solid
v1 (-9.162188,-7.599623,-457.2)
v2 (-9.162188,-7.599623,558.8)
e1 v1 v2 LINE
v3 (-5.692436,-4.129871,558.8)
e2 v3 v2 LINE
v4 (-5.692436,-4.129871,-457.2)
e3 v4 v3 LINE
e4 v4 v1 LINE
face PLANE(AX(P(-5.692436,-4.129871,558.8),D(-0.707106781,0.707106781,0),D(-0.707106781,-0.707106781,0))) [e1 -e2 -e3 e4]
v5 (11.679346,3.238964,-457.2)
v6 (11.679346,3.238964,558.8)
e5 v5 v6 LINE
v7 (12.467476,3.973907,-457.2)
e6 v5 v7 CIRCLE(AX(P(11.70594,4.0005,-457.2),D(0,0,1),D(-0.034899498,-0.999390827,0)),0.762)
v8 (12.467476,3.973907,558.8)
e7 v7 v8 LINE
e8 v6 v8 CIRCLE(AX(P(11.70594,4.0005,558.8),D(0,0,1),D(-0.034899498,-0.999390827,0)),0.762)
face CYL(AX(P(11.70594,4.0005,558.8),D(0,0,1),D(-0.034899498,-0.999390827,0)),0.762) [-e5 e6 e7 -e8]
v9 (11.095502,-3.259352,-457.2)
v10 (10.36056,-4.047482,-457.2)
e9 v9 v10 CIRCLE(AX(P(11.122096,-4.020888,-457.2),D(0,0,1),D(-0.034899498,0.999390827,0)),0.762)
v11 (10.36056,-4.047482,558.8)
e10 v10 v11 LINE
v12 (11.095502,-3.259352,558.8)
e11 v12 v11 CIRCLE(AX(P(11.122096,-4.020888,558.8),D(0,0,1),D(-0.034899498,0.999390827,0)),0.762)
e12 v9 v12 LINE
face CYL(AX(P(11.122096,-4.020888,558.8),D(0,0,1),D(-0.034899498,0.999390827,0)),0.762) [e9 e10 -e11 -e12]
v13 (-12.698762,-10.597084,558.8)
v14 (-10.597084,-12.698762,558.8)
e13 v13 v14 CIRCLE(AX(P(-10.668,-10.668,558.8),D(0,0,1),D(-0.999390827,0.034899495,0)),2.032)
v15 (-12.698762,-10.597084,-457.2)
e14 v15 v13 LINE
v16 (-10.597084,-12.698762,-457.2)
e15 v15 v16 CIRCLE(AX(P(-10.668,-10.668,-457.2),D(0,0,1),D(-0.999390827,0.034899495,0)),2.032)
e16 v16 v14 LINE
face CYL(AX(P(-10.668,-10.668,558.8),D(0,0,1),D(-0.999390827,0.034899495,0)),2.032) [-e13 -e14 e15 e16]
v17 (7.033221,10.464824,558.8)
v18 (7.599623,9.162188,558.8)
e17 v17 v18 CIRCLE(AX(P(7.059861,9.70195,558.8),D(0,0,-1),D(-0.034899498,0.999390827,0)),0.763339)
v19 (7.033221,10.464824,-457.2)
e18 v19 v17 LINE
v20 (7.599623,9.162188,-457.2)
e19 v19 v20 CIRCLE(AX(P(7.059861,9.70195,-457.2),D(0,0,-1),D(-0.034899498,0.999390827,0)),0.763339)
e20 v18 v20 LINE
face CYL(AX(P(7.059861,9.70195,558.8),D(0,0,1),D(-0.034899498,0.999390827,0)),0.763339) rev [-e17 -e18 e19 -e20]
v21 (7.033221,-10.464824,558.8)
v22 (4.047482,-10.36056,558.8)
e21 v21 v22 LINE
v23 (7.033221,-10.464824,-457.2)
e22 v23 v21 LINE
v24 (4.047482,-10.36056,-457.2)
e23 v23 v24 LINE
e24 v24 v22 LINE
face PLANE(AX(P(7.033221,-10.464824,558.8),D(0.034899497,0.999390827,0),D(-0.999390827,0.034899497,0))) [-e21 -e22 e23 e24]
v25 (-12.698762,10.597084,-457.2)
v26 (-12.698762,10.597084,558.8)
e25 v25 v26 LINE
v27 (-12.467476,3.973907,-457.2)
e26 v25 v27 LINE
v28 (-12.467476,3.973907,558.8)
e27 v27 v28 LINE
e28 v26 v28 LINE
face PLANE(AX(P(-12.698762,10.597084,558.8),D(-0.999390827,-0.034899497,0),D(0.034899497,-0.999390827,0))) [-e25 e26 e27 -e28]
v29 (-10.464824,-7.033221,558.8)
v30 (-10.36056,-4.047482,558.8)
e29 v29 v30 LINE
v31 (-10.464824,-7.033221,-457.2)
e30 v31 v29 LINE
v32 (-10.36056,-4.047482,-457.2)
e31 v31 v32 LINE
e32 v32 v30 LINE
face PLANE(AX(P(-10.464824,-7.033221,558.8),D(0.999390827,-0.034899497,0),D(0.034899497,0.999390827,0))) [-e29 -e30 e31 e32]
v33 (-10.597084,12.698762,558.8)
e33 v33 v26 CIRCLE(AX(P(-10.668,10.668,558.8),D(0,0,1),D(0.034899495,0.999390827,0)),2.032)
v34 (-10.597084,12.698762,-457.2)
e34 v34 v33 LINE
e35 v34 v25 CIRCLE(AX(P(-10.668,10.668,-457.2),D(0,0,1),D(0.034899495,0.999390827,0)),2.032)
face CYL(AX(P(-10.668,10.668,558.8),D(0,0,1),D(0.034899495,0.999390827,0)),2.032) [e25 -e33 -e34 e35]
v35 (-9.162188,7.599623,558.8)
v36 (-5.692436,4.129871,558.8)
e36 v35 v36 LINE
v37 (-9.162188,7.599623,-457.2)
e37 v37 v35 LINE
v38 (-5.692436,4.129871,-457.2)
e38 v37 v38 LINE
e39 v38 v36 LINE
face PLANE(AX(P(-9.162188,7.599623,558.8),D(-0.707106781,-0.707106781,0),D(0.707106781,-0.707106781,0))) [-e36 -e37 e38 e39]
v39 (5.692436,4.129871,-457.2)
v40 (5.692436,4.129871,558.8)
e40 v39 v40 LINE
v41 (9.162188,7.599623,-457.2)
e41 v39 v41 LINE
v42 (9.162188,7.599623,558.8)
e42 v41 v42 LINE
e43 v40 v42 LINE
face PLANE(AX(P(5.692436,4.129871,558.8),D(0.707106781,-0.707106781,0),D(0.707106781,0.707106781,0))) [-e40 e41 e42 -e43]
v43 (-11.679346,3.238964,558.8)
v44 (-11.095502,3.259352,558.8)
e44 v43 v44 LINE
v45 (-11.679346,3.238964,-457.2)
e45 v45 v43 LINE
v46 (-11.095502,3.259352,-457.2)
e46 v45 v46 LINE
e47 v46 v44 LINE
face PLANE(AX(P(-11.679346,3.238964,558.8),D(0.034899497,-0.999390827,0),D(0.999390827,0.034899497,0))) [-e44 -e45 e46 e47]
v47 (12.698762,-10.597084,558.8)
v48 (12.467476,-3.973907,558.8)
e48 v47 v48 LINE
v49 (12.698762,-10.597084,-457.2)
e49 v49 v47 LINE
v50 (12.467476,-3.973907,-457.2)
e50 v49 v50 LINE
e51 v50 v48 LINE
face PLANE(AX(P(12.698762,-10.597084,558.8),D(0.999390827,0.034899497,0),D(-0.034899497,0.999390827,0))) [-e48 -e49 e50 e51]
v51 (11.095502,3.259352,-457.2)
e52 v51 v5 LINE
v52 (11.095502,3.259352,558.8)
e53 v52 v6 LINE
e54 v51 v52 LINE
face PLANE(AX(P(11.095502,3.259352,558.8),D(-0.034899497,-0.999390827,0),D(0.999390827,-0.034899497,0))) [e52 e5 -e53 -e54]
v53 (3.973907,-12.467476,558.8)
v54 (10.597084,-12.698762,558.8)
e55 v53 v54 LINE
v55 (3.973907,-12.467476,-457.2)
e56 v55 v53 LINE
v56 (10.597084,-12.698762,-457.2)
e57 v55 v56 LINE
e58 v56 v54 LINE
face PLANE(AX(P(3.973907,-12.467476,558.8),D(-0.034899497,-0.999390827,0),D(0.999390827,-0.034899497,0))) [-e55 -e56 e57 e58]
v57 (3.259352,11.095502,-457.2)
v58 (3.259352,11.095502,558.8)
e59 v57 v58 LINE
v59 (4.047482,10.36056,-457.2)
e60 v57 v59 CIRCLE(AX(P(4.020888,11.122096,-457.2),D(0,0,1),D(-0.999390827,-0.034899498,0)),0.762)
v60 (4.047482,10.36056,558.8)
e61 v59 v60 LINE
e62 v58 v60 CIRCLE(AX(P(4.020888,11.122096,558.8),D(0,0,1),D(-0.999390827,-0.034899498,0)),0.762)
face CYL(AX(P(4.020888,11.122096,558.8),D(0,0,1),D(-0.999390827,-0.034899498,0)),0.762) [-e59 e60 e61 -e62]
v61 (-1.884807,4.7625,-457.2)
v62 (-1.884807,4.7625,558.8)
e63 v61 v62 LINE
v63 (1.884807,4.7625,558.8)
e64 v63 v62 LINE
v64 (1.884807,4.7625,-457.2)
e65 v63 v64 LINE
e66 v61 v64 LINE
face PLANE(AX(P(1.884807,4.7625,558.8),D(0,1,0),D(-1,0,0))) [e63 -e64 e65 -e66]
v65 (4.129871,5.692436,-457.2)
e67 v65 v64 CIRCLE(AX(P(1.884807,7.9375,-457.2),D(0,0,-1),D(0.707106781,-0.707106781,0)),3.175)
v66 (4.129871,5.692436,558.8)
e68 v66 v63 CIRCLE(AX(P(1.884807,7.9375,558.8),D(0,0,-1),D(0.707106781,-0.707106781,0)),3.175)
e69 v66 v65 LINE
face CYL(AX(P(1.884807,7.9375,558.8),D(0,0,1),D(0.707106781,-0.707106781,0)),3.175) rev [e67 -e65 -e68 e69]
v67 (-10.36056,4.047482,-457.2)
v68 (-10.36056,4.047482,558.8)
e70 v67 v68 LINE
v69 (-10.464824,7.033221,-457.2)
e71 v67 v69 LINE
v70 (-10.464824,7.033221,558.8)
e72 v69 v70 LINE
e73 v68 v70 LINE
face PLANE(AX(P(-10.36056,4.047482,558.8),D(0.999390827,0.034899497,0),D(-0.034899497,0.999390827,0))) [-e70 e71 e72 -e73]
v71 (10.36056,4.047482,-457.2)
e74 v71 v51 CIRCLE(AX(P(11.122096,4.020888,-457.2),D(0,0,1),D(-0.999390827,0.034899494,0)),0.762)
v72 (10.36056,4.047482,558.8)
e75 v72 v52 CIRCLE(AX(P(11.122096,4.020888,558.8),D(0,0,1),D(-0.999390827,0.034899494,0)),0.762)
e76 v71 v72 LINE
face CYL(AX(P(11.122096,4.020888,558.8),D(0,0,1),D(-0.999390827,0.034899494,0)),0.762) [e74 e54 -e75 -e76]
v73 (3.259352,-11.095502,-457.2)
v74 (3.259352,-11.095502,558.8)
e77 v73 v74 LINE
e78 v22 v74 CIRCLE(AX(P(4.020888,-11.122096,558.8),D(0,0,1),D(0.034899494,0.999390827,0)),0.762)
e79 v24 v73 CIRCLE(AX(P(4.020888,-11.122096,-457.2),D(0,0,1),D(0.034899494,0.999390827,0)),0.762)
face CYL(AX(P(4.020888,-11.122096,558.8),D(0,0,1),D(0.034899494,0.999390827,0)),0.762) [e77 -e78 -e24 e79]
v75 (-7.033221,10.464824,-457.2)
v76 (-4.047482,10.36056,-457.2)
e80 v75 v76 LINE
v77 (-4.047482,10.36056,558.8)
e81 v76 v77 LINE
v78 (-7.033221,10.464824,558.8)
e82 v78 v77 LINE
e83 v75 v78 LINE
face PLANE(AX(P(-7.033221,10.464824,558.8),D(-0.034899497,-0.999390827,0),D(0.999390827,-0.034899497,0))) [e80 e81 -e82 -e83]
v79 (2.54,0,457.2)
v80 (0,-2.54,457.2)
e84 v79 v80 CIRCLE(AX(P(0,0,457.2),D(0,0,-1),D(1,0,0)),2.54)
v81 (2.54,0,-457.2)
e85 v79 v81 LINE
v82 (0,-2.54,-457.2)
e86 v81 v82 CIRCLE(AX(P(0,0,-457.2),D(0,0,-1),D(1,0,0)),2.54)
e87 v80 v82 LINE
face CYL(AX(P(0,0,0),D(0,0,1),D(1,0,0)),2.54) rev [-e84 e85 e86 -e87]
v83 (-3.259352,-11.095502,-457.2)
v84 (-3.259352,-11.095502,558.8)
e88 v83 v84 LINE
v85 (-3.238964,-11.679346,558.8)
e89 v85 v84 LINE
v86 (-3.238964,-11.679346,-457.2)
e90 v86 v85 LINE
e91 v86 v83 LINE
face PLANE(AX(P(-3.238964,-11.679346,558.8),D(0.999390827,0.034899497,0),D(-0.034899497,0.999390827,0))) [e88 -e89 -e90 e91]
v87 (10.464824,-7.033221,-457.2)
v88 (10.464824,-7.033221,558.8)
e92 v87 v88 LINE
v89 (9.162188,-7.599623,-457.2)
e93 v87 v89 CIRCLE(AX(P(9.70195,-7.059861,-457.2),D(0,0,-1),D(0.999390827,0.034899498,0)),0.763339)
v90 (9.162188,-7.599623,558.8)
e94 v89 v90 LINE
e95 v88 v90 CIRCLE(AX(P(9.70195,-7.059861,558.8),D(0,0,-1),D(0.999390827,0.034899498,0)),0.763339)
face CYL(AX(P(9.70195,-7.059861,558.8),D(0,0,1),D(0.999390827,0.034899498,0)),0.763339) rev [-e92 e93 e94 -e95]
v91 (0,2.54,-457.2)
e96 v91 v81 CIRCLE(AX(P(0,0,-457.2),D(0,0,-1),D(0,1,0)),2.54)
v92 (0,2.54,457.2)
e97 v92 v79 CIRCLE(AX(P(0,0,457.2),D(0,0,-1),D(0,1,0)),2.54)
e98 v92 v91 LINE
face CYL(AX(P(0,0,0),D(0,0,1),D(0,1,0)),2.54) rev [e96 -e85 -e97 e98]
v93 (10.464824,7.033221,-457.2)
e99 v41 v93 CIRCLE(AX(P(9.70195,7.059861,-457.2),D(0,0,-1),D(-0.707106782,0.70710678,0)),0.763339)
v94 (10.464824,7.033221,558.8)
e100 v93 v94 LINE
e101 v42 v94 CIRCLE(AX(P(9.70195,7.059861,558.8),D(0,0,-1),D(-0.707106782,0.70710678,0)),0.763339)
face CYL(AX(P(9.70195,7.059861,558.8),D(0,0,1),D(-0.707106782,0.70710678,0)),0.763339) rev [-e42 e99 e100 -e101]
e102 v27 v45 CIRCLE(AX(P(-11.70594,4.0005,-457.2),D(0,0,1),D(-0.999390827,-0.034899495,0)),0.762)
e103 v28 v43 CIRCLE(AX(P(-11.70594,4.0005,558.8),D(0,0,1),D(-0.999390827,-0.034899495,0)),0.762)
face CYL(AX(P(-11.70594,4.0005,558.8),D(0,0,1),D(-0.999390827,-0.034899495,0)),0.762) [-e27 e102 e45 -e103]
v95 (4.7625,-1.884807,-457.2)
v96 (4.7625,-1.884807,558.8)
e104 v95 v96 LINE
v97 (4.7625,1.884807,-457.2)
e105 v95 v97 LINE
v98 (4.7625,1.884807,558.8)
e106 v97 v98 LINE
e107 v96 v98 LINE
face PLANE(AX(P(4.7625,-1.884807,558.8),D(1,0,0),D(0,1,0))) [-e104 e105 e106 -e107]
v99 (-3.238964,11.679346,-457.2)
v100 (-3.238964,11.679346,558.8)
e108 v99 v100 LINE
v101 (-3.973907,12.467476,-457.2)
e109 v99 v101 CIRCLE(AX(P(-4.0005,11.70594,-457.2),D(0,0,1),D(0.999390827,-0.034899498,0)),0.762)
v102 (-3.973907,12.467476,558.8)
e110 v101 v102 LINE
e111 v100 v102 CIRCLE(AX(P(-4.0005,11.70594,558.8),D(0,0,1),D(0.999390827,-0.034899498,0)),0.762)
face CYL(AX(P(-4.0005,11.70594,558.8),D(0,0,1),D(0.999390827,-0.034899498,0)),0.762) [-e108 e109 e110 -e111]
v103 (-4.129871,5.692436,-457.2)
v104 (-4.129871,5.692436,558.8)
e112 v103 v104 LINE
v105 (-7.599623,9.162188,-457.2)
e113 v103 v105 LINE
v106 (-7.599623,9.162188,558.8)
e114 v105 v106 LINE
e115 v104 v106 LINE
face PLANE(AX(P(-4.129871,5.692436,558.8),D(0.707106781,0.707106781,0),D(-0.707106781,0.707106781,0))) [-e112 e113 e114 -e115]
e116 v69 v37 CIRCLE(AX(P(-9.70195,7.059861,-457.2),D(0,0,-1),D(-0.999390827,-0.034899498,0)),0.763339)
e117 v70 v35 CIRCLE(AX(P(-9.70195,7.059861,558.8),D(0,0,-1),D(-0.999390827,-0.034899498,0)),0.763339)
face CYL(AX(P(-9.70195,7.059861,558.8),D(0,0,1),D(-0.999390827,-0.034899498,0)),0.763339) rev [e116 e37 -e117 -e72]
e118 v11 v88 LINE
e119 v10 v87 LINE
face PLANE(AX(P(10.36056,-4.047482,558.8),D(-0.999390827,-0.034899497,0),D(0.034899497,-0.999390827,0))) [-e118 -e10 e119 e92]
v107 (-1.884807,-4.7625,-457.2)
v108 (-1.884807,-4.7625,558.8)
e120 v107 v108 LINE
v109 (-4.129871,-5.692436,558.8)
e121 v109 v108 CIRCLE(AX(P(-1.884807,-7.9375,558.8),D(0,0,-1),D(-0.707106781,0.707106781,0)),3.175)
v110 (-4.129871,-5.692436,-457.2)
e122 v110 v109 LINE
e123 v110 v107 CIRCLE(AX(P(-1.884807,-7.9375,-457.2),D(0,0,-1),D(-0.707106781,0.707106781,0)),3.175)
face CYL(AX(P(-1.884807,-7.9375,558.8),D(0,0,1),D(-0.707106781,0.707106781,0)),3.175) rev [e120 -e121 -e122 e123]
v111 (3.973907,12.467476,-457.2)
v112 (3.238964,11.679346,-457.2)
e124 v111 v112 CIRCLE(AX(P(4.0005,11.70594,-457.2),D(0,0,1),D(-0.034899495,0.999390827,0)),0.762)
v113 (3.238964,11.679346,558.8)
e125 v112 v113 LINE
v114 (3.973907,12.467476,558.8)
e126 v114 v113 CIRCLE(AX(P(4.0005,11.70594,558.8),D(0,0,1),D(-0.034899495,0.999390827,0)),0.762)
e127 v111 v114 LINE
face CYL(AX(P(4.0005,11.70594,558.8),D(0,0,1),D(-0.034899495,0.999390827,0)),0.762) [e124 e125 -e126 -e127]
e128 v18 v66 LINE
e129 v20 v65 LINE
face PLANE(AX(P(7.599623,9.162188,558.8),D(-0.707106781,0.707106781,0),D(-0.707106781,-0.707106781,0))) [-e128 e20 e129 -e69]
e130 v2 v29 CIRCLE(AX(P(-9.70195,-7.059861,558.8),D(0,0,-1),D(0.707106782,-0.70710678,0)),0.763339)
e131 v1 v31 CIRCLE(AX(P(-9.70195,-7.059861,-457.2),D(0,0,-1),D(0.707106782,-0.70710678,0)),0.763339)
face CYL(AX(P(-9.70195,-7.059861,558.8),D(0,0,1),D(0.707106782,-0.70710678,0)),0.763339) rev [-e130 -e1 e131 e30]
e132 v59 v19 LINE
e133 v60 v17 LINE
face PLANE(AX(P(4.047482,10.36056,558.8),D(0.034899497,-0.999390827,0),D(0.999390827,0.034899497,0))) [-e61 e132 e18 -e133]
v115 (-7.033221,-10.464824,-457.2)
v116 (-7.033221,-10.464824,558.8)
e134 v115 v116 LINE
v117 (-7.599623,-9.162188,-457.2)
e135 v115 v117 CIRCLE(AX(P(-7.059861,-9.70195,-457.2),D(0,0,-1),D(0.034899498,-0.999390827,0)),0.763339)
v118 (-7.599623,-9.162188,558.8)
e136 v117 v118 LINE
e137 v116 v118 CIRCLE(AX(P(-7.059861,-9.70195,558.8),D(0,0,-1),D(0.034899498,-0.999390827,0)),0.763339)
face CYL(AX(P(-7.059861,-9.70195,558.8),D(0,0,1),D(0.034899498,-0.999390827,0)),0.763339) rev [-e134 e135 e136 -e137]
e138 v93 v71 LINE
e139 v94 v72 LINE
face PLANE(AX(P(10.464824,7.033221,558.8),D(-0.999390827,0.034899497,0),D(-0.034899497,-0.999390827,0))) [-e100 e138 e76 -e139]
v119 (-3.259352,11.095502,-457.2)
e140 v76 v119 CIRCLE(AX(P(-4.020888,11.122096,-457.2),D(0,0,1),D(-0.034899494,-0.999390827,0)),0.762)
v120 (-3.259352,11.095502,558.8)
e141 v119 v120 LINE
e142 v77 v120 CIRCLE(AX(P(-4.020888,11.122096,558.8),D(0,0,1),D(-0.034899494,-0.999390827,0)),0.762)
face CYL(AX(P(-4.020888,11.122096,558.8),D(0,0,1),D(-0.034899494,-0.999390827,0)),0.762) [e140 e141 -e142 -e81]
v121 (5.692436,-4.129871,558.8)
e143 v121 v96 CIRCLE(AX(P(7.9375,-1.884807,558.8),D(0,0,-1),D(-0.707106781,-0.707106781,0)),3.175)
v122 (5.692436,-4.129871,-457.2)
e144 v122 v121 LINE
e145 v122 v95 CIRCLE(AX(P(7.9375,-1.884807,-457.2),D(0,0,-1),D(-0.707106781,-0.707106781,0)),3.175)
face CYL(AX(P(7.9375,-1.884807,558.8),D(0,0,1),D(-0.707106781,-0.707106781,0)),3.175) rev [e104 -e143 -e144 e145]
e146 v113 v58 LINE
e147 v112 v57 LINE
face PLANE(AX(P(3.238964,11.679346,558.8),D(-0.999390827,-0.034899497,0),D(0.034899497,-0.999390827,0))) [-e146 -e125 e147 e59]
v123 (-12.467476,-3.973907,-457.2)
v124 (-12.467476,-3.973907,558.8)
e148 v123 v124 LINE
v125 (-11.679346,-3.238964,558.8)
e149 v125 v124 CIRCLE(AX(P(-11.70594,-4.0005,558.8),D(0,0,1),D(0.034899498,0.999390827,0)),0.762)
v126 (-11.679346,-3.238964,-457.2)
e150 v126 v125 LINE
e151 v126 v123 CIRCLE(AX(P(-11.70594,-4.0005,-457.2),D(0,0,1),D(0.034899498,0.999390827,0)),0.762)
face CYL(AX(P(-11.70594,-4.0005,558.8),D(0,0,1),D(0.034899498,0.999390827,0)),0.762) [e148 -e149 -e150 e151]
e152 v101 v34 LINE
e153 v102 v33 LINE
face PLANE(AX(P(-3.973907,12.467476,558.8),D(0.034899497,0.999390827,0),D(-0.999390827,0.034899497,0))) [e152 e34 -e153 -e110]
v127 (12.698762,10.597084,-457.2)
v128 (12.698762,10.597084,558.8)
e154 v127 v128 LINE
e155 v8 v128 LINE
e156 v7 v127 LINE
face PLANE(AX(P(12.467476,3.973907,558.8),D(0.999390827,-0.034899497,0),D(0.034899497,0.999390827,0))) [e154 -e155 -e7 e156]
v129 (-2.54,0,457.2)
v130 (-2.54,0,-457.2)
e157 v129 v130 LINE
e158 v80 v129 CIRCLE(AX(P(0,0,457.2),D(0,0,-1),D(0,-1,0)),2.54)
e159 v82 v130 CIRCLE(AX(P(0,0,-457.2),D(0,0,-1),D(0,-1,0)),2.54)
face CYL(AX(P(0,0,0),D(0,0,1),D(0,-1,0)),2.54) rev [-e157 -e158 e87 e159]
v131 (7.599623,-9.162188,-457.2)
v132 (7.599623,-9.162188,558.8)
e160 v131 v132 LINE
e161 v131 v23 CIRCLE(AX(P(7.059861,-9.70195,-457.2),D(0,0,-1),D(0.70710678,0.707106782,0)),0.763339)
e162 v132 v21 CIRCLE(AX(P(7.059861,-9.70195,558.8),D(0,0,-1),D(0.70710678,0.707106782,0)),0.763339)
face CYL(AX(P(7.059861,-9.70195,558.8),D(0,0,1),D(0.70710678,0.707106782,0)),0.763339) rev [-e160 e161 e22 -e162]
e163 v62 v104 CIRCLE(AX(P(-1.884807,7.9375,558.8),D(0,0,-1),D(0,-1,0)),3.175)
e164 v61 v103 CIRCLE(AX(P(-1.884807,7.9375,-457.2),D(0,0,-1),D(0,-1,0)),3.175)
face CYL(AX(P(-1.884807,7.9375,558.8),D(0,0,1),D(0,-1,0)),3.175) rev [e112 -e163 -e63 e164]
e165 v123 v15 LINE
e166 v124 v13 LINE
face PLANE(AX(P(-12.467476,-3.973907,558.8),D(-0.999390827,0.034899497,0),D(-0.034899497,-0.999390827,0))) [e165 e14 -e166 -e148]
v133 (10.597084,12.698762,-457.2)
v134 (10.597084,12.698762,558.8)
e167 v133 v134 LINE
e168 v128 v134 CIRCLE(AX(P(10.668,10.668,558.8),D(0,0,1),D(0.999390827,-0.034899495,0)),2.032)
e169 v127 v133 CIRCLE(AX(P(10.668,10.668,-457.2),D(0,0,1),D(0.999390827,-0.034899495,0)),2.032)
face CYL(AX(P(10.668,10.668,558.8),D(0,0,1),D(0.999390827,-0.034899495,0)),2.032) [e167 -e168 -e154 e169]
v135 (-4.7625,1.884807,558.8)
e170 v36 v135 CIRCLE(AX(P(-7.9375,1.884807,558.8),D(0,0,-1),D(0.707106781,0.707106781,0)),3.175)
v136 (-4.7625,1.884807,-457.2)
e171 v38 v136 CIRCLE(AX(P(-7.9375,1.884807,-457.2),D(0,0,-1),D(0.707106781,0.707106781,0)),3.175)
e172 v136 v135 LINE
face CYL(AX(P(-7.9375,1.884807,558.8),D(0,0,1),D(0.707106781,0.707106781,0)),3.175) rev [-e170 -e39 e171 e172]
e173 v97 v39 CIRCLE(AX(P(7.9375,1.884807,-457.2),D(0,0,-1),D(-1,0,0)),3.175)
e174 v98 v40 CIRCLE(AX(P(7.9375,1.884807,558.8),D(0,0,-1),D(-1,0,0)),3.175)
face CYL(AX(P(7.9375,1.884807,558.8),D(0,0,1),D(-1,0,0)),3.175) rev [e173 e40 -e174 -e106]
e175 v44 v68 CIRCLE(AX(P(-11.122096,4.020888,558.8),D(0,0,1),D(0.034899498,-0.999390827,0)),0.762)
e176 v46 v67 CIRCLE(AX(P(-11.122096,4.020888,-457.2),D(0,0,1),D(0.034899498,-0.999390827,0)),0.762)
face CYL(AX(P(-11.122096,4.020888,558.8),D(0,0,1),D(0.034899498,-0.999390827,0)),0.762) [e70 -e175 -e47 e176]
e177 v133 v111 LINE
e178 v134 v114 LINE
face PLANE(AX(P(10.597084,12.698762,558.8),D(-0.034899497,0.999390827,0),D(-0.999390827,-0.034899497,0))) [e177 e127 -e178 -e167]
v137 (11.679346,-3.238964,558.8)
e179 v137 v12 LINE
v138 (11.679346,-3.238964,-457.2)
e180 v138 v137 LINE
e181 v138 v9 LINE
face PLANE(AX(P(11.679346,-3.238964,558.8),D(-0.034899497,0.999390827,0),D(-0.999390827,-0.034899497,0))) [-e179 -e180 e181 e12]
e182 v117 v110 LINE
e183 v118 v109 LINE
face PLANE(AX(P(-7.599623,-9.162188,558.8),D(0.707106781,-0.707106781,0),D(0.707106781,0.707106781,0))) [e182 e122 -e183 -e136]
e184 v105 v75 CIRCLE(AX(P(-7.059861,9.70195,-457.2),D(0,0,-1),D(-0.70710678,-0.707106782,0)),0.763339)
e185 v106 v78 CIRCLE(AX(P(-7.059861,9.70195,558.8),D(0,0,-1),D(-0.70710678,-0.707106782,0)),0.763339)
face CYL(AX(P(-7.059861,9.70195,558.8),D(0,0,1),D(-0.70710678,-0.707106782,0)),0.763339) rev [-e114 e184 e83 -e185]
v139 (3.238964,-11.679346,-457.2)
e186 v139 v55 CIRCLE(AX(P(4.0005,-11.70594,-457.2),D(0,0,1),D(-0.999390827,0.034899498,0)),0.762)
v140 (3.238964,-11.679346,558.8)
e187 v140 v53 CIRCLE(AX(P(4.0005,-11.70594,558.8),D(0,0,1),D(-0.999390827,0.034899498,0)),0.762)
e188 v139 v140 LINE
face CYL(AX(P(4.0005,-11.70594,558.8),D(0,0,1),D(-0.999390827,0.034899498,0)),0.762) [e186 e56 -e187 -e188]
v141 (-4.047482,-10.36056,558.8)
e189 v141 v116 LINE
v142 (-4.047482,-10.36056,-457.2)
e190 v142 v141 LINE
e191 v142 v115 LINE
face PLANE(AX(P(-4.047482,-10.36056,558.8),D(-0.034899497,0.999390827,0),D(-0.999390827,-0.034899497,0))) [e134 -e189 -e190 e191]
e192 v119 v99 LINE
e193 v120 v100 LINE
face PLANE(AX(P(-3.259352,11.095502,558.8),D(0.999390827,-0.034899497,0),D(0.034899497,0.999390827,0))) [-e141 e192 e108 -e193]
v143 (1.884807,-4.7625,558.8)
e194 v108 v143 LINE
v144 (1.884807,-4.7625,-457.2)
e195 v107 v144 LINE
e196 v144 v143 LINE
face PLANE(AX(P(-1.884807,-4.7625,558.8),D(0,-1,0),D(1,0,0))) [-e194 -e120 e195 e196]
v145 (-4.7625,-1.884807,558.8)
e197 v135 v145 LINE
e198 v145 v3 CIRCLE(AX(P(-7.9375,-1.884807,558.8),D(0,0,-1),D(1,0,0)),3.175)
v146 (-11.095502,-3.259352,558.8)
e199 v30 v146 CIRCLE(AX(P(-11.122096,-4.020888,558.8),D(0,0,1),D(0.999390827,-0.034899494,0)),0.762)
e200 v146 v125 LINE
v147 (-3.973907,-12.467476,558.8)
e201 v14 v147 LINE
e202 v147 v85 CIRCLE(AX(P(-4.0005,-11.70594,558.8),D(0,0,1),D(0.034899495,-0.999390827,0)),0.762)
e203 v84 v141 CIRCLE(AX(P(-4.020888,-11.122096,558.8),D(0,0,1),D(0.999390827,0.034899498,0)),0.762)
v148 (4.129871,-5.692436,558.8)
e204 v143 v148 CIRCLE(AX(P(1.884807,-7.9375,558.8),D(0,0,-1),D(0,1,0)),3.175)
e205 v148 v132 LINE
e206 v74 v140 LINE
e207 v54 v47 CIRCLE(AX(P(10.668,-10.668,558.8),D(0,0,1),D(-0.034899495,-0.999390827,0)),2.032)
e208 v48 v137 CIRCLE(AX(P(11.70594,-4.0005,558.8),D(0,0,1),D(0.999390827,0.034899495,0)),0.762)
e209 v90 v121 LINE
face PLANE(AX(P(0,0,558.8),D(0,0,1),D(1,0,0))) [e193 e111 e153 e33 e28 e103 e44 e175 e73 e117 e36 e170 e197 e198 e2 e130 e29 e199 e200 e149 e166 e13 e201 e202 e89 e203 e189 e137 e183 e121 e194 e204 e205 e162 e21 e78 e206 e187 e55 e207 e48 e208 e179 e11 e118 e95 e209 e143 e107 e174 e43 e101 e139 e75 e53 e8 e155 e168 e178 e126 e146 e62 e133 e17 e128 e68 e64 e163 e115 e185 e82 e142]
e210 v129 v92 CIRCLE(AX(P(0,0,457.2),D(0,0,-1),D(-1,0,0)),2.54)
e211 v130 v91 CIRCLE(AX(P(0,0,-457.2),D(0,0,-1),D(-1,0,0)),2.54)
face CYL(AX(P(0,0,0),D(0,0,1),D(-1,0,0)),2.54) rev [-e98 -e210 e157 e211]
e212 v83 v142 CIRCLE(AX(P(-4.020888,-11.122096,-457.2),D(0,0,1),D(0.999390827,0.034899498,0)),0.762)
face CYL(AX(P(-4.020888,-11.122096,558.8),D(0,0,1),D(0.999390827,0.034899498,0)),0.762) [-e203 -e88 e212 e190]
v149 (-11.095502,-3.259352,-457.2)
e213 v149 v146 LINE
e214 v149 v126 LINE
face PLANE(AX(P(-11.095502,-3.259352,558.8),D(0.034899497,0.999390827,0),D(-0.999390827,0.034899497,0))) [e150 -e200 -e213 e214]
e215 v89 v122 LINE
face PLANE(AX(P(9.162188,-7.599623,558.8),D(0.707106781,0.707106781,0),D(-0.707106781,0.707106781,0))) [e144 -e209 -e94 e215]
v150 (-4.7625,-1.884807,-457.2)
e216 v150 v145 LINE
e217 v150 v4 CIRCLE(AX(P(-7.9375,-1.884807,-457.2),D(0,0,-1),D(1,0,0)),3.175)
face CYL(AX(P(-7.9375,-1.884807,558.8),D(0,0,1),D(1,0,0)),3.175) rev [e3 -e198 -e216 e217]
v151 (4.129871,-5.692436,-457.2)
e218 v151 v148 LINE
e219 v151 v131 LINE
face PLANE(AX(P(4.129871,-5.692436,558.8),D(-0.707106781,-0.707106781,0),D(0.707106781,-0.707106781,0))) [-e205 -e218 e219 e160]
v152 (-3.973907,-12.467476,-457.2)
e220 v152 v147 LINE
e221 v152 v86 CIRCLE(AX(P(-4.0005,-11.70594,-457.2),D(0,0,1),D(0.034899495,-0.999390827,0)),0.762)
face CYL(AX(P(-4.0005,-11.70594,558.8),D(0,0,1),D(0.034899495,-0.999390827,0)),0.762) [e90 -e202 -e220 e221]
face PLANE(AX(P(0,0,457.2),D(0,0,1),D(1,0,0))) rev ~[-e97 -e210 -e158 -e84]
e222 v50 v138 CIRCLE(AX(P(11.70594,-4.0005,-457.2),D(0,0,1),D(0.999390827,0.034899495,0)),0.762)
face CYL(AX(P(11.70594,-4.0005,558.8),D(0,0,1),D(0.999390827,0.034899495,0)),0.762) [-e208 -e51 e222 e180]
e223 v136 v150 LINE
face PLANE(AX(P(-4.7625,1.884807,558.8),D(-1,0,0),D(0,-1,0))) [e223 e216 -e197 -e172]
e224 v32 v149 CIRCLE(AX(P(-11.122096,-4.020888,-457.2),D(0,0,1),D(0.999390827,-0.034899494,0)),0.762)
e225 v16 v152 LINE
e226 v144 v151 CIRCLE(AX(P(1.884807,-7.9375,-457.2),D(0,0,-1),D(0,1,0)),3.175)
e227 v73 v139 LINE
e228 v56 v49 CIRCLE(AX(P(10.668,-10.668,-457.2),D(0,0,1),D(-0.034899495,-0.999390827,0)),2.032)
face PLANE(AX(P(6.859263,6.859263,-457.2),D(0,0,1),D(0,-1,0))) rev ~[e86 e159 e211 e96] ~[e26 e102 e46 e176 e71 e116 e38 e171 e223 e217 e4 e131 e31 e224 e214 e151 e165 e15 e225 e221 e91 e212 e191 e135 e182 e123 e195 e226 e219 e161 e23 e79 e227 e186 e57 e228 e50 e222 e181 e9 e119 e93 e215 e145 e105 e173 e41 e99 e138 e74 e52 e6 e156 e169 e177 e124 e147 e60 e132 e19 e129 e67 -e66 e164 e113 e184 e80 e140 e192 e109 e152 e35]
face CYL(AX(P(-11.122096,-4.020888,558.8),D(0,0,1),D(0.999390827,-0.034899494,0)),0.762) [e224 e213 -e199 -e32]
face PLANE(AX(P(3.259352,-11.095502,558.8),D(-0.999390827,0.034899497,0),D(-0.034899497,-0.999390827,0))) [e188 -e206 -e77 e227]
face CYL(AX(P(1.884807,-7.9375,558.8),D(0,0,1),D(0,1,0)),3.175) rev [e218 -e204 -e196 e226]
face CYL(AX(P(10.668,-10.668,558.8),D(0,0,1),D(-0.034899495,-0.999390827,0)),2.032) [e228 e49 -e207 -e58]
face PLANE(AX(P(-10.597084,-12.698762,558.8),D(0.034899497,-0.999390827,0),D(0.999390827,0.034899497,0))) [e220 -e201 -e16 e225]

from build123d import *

# Parameters (mm, degrees)
BOSS_EXTRUDE1_DEPTH = 457.2
CIRPATTERN1_COUNT   = 4
BOSS_EXTRUDE2_START = 101.6
BOSS_EXTRUDE2_DEPTH = 101.6


with BuildPart() as part:
    # Sketch3 → Boss-Extrude1 (new, symmetric)
    with BuildSketch(Plane.XY):
        with BuildLine():
            Line((0, 4.7625), (-1.884807374, 4.7625))
            ThreePointArc((-1.884807374, 4.7625), (-3.099827272, 5.004182484), (-4.129871405, 5.69243597))
            Line((-4.129871405, 5.69243597), (-7.599623114, 9.162187679))
            ThreePointArc((-7.599623114, 9.162187679), (-7.759888701, 10.006330839), (-7.033220609, 10.464824259))
            Line((-7.033220609, 10.464824259), (-4.047481702, 10.360559959))
            ThreePointArc((-4.047481702, 10.360559959), (-3.501205536, 10.564804249), (-3.259352476, 11.095502353))
            Line((-3.259352476, 11.095502353), (-3.23896419, 11.679346474))
            ThreePointArc((-3.23896419, 11.679346474), (-3.443208479, 12.225622641), (-3.973906584, 12.467475701))
            Line((-3.973906584, 12.467475701), (-10.597084223, 12.698762161))
            ThreePointArc((-10.597084223, 12.698762161), (-12.104840979, 12.104840979), (-12.698762161, 10.597084223))
            Line((-12.698762161, 10.597084223), (-12.467475701, 3.973906584))
            ThreePointArc((-12.467475701, 3.973906584), (-12.225622641, 3.443208479), (-11.679346474, 3.23896419))
            Line((-11.679346474, 3.23896419), (-11.095502353, 3.259352476))
            ThreePointArc((-11.095502353, 3.259352476), (-10.564804249, 3.501205536), (-10.360559959, 4.047481702))
            Line((-10.360559959, 4.047481702), (-10.464824259, 7.033220609))
            ThreePointArc((-10.464824259, 7.033220609), (-10.006330839, 7.759888701), (-9.162187679, 7.599623114))
            Line((-9.162187679, 7.599623114), (-5.69243597, 4.129871405))
            ThreePointArc((-5.69243597, 4.129871405), (-5.004182484, 3.099827272), (-4.7625, 1.884807374))
            Line((-4.7625, 1.884807374), (-4.7625, 0))
            Line((-4.7625, 0), (-2.54, 0))
            ThreePointArc((-2.54, 0), (-1.796051224, 1.796051224), (0, 2.54))
            Line((0, 2.54), (0, 4.7625))
        make_face()
    boss_extrude1 = extrude(amount=BOSS_EXTRUDE1_DEPTH, both=True)

    # CirPattern1: Boss-Extrude1 ×4 about axis
    cirpattern1_axis = Axis((0, 0, 0), (0, 0, 1))
    for i in range(1, CIRPATTERN1_COUNT):
        add(boss_extrude1.rotate(cirpattern1_axis, i * 360 / CIRPATTERN1_COUNT))

    # Sketch4 → Boss-Extrude2 (add)
    with BuildSketch(Plane.XY.offset(457.2).offset(BOSS_EXTRUDE2_START)):
        with BuildLine():
            Line((1.884807374, 4.7625), (-1.884807374, 4.7625))
            ThreePointArc((-1.884807374, 4.7625), (-3.099827272, 5.004182484), (-4.129871405, 5.69243597))
            Line((-4.129871405, 5.69243597), (-7.599623114, 9.162187679))
            ThreePointArc((-7.599623114, 9.162187679), (-7.759888701, 10.006330839), (-7.033220609, 10.464824259))
            Line((-7.033220609, 10.464824259), (-4.047481702, 10.360559959))
            ThreePointArc((-4.047481702, 10.360559959), (-3.501205536, 10.564804249), (-3.259352476, 11.095502353))
            Line((-3.259352476, 11.095502353), (-3.23896419, 11.679346474))
            ThreePointArc((-3.23896419, 11.679346474), (-3.443208479, 12.225622641), (-3.973906584, 12.467475701))
            Line((-3.973906584, 12.467475701), (-10.597084223, 12.698762161))
            ThreePointArc((-10.597084223, 12.698762161), (-12.104840979, 12.104840979), (-12.698762161, 10.597084223))
            Line((-12.698762161, 10.597084223), (-12.467475701, 3.973906584))
            ThreePointArc((-12.467475701, 3.973906584), (-12.225622641, 3.443208479), (-11.679346474, 3.23896419))
            Line((-11.679346474, 3.23896419), (-11.095502353, 3.259352476))
            ThreePointArc((-11.095502353, 3.259352476), (-10.564804249, 3.501205536), (-10.360559959, 4.047481702))
            Line((-10.360559959, 4.047481702), (-10.464824259, 7.033220609))
            ThreePointArc((-10.464824259, 7.033220609), (-10.006330839, 7.759888701), (-9.162187679, 7.599623114))
            Line((-9.162187679, 7.599623114), (-5.69243597, 4.129871405))
            ThreePointArc((-5.69243597, 4.129871405), (-5.004182484, 3.099827272), (-4.7625, 1.884807374))
            Line((-4.7625, 1.884807374), (-4.7625, -1.884807374))
            ThreePointArc((-4.7625, -1.884807374), (-5.004182484, -3.099827272), (-5.69243597, -4.129871405))
            Line((-5.69243597, -4.129871405), (-9.162187679, -7.599623114))
            ThreePointArc((-9.162187679, -7.599623114), (-10.006330839, -7.759888701), (-10.464824259, -7.033220609))
            Line((-10.464824259, -7.033220609), (-10.360559959, -4.047481702))
            ThreePointArc((-10.360559959, -4.047481702), (-10.564804249, -3.501205536), (-11.095502353, -3.259352476))
            Line((-11.095502353, -3.259352476), (-11.679346474, -3.23896419))
            ThreePointArc((-11.679346474, -3.23896419), (-12.225622641, -3.443208479), (-12.467475701, -3.973906584))
            Line((-12.467475701, -3.973906584), (-12.698762161, -10.597084223))
            ThreePointArc((-12.698762161, -10.597084223), (-12.104840979, -12.104840979), (-10.597084223, -12.698762161))
            Line((-10.597084223, -12.698762161), (-3.973906584, -12.467475701))
            ThreePointArc((-3.973906584, -12.467475701), (-3.443208479, -12.225622641), (-3.23896419, -11.679346474))
            Line((-3.23896419, -11.679346474), (-3.259352476, -11.095502353))
            ThreePointArc((-3.259352476, -11.095502353), (-3.501205536, -10.564804249), (-4.047481702, -10.360559959))
            Line((-4.047481702, -10.360559959), (-7.033220609, -10.464824259))
            ThreePointArc((-7.033220609, -10.464824259), (-7.759888701, -10.006330839), (-7.599623114, -9.162187679))
            Line((-7.599623114, -9.162187679), (-4.129871405, -5.69243597))
            ThreePointArc((-4.129871405, -5.69243597), (-3.099827272, -5.004182484), (-1.884807374, -4.7625))
            Line((-1.884807374, -4.7625), (1.884807374, -4.7625))
            ThreePointArc((1.884807374, -4.7625), (3.099827272, -5.004182484), (4.129871405, -5.69243597))
            Line((4.129871405, -5.69243597), (7.599623114, -9.162187679))
            ThreePointArc((7.599623114, -9.162187679), (7.759888701, -10.006330839), (7.033220609, -10.464824259))
            Line((7.033220609, -10.464824259), (4.047481702, -10.360559959))
            ThreePointArc((4.047481702, -10.360559959), (3.501205536, -10.564804249), (3.259352476, -11.095502353))
            Line((3.259352476, -11.095502353), (3.23896419, -11.679346474))
            ThreePointArc((3.23896419, -11.679346474), (3.443208479, -12.225622641), (3.973906584, -12.467475701))
            Line((3.973906584, -12.467475701), (10.597084223, -12.698762161))
            ThreePointArc((10.597084223, -12.698762161), (12.104840979, -12.104840979), (12.698762161, -10.597084223))
            Line((12.698762161, -10.597084223), (12.467475701, -3.973906584))
            ThreePointArc((12.467475701, -3.973906584), (12.225622641, -3.443208479), (11.679346474, -3.23896419))
            Line((11.679346474, -3.23896419), (11.095502353, -3.259352476))
            ThreePointArc((11.095502353, -3.259352476), (10.564804249, -3.501205536), (10.360559959, -4.047481702))
            Line((10.360559959, -4.047481702), (10.464824259, -7.033220609))
            ThreePointArc((10.464824259, -7.033220609), (10.006330839, -7.759888701), (9.162187679, -7.599623114))
            Line((9.162187679, -7.599623114), (5.69243597, -4.129871405))
            ThreePointArc((5.69243597, -4.129871405), (5.004182484, -3.099827272), (4.7625, -1.884807374))
            Line((4.7625, -1.884807374), (4.7625, 1.884807374))
            ThreePointArc((4.7625, 1.884807374), (5.004182484, 3.099827272), (5.69243597, 4.129871405))
            Line((5.69243597, 4.129871405), (9.162187679, 7.599623114))
            ThreePointArc((9.162187679, 7.599623114), (10.006330839, 7.759888701), (10.464824259, 7.033220609))
            Line((10.464824259, 7.033220609), (10.360559959, 4.047481702))
            ThreePointArc((10.360559959, 4.047481702), (10.564804249, 3.501205536), (11.095502353, 3.259352476))
            Line((11.095502353, 3.259352476), (11.679346474, 3.23896419))
            ThreePointArc((11.679346474, 3.23896419), (12.225622641, 3.443208479), (12.467475701, 3.973906584))
            Line((12.467475701, 3.973906584), (12.698762161, 10.597084223))
            ThreePointArc((12.698762161, 10.597084223), (12.104840979, 12.104840979), (10.597084223, 12.698762161))
            Line((10.597084223, 12.698762161), (3.973906584, 12.467475701))
            ThreePointArc((3.973906584, 12.467475701), (3.443208479, 12.225622641), (3.23896419, 11.679346474))
            Line((3.23896419, 11.679346474), (3.259352476, 11.095502353))
            ThreePointArc((3.259352476, 11.095502353), (3.501205536, 10.564804249), (4.047481702, 10.360559959))
            Line((4.047481702, 10.360559959), (7.033220609, 10.464824259))
            ThreePointArc((7.033220609, 10.464824259), (7.759888701, 10.006330839), (7.599623114, 9.162187679))
            Line((7.599623114, 9.162187679), (4.129871405, 5.69243597))
            ThreePointArc((4.129871405, 5.69243597), (3.099827272, 5.004182484), (1.884807374, 4.7625))
        make_face()
    extrude(amount=-BOSS_EXTRUDE2_DEPTH)


solid = part.part
